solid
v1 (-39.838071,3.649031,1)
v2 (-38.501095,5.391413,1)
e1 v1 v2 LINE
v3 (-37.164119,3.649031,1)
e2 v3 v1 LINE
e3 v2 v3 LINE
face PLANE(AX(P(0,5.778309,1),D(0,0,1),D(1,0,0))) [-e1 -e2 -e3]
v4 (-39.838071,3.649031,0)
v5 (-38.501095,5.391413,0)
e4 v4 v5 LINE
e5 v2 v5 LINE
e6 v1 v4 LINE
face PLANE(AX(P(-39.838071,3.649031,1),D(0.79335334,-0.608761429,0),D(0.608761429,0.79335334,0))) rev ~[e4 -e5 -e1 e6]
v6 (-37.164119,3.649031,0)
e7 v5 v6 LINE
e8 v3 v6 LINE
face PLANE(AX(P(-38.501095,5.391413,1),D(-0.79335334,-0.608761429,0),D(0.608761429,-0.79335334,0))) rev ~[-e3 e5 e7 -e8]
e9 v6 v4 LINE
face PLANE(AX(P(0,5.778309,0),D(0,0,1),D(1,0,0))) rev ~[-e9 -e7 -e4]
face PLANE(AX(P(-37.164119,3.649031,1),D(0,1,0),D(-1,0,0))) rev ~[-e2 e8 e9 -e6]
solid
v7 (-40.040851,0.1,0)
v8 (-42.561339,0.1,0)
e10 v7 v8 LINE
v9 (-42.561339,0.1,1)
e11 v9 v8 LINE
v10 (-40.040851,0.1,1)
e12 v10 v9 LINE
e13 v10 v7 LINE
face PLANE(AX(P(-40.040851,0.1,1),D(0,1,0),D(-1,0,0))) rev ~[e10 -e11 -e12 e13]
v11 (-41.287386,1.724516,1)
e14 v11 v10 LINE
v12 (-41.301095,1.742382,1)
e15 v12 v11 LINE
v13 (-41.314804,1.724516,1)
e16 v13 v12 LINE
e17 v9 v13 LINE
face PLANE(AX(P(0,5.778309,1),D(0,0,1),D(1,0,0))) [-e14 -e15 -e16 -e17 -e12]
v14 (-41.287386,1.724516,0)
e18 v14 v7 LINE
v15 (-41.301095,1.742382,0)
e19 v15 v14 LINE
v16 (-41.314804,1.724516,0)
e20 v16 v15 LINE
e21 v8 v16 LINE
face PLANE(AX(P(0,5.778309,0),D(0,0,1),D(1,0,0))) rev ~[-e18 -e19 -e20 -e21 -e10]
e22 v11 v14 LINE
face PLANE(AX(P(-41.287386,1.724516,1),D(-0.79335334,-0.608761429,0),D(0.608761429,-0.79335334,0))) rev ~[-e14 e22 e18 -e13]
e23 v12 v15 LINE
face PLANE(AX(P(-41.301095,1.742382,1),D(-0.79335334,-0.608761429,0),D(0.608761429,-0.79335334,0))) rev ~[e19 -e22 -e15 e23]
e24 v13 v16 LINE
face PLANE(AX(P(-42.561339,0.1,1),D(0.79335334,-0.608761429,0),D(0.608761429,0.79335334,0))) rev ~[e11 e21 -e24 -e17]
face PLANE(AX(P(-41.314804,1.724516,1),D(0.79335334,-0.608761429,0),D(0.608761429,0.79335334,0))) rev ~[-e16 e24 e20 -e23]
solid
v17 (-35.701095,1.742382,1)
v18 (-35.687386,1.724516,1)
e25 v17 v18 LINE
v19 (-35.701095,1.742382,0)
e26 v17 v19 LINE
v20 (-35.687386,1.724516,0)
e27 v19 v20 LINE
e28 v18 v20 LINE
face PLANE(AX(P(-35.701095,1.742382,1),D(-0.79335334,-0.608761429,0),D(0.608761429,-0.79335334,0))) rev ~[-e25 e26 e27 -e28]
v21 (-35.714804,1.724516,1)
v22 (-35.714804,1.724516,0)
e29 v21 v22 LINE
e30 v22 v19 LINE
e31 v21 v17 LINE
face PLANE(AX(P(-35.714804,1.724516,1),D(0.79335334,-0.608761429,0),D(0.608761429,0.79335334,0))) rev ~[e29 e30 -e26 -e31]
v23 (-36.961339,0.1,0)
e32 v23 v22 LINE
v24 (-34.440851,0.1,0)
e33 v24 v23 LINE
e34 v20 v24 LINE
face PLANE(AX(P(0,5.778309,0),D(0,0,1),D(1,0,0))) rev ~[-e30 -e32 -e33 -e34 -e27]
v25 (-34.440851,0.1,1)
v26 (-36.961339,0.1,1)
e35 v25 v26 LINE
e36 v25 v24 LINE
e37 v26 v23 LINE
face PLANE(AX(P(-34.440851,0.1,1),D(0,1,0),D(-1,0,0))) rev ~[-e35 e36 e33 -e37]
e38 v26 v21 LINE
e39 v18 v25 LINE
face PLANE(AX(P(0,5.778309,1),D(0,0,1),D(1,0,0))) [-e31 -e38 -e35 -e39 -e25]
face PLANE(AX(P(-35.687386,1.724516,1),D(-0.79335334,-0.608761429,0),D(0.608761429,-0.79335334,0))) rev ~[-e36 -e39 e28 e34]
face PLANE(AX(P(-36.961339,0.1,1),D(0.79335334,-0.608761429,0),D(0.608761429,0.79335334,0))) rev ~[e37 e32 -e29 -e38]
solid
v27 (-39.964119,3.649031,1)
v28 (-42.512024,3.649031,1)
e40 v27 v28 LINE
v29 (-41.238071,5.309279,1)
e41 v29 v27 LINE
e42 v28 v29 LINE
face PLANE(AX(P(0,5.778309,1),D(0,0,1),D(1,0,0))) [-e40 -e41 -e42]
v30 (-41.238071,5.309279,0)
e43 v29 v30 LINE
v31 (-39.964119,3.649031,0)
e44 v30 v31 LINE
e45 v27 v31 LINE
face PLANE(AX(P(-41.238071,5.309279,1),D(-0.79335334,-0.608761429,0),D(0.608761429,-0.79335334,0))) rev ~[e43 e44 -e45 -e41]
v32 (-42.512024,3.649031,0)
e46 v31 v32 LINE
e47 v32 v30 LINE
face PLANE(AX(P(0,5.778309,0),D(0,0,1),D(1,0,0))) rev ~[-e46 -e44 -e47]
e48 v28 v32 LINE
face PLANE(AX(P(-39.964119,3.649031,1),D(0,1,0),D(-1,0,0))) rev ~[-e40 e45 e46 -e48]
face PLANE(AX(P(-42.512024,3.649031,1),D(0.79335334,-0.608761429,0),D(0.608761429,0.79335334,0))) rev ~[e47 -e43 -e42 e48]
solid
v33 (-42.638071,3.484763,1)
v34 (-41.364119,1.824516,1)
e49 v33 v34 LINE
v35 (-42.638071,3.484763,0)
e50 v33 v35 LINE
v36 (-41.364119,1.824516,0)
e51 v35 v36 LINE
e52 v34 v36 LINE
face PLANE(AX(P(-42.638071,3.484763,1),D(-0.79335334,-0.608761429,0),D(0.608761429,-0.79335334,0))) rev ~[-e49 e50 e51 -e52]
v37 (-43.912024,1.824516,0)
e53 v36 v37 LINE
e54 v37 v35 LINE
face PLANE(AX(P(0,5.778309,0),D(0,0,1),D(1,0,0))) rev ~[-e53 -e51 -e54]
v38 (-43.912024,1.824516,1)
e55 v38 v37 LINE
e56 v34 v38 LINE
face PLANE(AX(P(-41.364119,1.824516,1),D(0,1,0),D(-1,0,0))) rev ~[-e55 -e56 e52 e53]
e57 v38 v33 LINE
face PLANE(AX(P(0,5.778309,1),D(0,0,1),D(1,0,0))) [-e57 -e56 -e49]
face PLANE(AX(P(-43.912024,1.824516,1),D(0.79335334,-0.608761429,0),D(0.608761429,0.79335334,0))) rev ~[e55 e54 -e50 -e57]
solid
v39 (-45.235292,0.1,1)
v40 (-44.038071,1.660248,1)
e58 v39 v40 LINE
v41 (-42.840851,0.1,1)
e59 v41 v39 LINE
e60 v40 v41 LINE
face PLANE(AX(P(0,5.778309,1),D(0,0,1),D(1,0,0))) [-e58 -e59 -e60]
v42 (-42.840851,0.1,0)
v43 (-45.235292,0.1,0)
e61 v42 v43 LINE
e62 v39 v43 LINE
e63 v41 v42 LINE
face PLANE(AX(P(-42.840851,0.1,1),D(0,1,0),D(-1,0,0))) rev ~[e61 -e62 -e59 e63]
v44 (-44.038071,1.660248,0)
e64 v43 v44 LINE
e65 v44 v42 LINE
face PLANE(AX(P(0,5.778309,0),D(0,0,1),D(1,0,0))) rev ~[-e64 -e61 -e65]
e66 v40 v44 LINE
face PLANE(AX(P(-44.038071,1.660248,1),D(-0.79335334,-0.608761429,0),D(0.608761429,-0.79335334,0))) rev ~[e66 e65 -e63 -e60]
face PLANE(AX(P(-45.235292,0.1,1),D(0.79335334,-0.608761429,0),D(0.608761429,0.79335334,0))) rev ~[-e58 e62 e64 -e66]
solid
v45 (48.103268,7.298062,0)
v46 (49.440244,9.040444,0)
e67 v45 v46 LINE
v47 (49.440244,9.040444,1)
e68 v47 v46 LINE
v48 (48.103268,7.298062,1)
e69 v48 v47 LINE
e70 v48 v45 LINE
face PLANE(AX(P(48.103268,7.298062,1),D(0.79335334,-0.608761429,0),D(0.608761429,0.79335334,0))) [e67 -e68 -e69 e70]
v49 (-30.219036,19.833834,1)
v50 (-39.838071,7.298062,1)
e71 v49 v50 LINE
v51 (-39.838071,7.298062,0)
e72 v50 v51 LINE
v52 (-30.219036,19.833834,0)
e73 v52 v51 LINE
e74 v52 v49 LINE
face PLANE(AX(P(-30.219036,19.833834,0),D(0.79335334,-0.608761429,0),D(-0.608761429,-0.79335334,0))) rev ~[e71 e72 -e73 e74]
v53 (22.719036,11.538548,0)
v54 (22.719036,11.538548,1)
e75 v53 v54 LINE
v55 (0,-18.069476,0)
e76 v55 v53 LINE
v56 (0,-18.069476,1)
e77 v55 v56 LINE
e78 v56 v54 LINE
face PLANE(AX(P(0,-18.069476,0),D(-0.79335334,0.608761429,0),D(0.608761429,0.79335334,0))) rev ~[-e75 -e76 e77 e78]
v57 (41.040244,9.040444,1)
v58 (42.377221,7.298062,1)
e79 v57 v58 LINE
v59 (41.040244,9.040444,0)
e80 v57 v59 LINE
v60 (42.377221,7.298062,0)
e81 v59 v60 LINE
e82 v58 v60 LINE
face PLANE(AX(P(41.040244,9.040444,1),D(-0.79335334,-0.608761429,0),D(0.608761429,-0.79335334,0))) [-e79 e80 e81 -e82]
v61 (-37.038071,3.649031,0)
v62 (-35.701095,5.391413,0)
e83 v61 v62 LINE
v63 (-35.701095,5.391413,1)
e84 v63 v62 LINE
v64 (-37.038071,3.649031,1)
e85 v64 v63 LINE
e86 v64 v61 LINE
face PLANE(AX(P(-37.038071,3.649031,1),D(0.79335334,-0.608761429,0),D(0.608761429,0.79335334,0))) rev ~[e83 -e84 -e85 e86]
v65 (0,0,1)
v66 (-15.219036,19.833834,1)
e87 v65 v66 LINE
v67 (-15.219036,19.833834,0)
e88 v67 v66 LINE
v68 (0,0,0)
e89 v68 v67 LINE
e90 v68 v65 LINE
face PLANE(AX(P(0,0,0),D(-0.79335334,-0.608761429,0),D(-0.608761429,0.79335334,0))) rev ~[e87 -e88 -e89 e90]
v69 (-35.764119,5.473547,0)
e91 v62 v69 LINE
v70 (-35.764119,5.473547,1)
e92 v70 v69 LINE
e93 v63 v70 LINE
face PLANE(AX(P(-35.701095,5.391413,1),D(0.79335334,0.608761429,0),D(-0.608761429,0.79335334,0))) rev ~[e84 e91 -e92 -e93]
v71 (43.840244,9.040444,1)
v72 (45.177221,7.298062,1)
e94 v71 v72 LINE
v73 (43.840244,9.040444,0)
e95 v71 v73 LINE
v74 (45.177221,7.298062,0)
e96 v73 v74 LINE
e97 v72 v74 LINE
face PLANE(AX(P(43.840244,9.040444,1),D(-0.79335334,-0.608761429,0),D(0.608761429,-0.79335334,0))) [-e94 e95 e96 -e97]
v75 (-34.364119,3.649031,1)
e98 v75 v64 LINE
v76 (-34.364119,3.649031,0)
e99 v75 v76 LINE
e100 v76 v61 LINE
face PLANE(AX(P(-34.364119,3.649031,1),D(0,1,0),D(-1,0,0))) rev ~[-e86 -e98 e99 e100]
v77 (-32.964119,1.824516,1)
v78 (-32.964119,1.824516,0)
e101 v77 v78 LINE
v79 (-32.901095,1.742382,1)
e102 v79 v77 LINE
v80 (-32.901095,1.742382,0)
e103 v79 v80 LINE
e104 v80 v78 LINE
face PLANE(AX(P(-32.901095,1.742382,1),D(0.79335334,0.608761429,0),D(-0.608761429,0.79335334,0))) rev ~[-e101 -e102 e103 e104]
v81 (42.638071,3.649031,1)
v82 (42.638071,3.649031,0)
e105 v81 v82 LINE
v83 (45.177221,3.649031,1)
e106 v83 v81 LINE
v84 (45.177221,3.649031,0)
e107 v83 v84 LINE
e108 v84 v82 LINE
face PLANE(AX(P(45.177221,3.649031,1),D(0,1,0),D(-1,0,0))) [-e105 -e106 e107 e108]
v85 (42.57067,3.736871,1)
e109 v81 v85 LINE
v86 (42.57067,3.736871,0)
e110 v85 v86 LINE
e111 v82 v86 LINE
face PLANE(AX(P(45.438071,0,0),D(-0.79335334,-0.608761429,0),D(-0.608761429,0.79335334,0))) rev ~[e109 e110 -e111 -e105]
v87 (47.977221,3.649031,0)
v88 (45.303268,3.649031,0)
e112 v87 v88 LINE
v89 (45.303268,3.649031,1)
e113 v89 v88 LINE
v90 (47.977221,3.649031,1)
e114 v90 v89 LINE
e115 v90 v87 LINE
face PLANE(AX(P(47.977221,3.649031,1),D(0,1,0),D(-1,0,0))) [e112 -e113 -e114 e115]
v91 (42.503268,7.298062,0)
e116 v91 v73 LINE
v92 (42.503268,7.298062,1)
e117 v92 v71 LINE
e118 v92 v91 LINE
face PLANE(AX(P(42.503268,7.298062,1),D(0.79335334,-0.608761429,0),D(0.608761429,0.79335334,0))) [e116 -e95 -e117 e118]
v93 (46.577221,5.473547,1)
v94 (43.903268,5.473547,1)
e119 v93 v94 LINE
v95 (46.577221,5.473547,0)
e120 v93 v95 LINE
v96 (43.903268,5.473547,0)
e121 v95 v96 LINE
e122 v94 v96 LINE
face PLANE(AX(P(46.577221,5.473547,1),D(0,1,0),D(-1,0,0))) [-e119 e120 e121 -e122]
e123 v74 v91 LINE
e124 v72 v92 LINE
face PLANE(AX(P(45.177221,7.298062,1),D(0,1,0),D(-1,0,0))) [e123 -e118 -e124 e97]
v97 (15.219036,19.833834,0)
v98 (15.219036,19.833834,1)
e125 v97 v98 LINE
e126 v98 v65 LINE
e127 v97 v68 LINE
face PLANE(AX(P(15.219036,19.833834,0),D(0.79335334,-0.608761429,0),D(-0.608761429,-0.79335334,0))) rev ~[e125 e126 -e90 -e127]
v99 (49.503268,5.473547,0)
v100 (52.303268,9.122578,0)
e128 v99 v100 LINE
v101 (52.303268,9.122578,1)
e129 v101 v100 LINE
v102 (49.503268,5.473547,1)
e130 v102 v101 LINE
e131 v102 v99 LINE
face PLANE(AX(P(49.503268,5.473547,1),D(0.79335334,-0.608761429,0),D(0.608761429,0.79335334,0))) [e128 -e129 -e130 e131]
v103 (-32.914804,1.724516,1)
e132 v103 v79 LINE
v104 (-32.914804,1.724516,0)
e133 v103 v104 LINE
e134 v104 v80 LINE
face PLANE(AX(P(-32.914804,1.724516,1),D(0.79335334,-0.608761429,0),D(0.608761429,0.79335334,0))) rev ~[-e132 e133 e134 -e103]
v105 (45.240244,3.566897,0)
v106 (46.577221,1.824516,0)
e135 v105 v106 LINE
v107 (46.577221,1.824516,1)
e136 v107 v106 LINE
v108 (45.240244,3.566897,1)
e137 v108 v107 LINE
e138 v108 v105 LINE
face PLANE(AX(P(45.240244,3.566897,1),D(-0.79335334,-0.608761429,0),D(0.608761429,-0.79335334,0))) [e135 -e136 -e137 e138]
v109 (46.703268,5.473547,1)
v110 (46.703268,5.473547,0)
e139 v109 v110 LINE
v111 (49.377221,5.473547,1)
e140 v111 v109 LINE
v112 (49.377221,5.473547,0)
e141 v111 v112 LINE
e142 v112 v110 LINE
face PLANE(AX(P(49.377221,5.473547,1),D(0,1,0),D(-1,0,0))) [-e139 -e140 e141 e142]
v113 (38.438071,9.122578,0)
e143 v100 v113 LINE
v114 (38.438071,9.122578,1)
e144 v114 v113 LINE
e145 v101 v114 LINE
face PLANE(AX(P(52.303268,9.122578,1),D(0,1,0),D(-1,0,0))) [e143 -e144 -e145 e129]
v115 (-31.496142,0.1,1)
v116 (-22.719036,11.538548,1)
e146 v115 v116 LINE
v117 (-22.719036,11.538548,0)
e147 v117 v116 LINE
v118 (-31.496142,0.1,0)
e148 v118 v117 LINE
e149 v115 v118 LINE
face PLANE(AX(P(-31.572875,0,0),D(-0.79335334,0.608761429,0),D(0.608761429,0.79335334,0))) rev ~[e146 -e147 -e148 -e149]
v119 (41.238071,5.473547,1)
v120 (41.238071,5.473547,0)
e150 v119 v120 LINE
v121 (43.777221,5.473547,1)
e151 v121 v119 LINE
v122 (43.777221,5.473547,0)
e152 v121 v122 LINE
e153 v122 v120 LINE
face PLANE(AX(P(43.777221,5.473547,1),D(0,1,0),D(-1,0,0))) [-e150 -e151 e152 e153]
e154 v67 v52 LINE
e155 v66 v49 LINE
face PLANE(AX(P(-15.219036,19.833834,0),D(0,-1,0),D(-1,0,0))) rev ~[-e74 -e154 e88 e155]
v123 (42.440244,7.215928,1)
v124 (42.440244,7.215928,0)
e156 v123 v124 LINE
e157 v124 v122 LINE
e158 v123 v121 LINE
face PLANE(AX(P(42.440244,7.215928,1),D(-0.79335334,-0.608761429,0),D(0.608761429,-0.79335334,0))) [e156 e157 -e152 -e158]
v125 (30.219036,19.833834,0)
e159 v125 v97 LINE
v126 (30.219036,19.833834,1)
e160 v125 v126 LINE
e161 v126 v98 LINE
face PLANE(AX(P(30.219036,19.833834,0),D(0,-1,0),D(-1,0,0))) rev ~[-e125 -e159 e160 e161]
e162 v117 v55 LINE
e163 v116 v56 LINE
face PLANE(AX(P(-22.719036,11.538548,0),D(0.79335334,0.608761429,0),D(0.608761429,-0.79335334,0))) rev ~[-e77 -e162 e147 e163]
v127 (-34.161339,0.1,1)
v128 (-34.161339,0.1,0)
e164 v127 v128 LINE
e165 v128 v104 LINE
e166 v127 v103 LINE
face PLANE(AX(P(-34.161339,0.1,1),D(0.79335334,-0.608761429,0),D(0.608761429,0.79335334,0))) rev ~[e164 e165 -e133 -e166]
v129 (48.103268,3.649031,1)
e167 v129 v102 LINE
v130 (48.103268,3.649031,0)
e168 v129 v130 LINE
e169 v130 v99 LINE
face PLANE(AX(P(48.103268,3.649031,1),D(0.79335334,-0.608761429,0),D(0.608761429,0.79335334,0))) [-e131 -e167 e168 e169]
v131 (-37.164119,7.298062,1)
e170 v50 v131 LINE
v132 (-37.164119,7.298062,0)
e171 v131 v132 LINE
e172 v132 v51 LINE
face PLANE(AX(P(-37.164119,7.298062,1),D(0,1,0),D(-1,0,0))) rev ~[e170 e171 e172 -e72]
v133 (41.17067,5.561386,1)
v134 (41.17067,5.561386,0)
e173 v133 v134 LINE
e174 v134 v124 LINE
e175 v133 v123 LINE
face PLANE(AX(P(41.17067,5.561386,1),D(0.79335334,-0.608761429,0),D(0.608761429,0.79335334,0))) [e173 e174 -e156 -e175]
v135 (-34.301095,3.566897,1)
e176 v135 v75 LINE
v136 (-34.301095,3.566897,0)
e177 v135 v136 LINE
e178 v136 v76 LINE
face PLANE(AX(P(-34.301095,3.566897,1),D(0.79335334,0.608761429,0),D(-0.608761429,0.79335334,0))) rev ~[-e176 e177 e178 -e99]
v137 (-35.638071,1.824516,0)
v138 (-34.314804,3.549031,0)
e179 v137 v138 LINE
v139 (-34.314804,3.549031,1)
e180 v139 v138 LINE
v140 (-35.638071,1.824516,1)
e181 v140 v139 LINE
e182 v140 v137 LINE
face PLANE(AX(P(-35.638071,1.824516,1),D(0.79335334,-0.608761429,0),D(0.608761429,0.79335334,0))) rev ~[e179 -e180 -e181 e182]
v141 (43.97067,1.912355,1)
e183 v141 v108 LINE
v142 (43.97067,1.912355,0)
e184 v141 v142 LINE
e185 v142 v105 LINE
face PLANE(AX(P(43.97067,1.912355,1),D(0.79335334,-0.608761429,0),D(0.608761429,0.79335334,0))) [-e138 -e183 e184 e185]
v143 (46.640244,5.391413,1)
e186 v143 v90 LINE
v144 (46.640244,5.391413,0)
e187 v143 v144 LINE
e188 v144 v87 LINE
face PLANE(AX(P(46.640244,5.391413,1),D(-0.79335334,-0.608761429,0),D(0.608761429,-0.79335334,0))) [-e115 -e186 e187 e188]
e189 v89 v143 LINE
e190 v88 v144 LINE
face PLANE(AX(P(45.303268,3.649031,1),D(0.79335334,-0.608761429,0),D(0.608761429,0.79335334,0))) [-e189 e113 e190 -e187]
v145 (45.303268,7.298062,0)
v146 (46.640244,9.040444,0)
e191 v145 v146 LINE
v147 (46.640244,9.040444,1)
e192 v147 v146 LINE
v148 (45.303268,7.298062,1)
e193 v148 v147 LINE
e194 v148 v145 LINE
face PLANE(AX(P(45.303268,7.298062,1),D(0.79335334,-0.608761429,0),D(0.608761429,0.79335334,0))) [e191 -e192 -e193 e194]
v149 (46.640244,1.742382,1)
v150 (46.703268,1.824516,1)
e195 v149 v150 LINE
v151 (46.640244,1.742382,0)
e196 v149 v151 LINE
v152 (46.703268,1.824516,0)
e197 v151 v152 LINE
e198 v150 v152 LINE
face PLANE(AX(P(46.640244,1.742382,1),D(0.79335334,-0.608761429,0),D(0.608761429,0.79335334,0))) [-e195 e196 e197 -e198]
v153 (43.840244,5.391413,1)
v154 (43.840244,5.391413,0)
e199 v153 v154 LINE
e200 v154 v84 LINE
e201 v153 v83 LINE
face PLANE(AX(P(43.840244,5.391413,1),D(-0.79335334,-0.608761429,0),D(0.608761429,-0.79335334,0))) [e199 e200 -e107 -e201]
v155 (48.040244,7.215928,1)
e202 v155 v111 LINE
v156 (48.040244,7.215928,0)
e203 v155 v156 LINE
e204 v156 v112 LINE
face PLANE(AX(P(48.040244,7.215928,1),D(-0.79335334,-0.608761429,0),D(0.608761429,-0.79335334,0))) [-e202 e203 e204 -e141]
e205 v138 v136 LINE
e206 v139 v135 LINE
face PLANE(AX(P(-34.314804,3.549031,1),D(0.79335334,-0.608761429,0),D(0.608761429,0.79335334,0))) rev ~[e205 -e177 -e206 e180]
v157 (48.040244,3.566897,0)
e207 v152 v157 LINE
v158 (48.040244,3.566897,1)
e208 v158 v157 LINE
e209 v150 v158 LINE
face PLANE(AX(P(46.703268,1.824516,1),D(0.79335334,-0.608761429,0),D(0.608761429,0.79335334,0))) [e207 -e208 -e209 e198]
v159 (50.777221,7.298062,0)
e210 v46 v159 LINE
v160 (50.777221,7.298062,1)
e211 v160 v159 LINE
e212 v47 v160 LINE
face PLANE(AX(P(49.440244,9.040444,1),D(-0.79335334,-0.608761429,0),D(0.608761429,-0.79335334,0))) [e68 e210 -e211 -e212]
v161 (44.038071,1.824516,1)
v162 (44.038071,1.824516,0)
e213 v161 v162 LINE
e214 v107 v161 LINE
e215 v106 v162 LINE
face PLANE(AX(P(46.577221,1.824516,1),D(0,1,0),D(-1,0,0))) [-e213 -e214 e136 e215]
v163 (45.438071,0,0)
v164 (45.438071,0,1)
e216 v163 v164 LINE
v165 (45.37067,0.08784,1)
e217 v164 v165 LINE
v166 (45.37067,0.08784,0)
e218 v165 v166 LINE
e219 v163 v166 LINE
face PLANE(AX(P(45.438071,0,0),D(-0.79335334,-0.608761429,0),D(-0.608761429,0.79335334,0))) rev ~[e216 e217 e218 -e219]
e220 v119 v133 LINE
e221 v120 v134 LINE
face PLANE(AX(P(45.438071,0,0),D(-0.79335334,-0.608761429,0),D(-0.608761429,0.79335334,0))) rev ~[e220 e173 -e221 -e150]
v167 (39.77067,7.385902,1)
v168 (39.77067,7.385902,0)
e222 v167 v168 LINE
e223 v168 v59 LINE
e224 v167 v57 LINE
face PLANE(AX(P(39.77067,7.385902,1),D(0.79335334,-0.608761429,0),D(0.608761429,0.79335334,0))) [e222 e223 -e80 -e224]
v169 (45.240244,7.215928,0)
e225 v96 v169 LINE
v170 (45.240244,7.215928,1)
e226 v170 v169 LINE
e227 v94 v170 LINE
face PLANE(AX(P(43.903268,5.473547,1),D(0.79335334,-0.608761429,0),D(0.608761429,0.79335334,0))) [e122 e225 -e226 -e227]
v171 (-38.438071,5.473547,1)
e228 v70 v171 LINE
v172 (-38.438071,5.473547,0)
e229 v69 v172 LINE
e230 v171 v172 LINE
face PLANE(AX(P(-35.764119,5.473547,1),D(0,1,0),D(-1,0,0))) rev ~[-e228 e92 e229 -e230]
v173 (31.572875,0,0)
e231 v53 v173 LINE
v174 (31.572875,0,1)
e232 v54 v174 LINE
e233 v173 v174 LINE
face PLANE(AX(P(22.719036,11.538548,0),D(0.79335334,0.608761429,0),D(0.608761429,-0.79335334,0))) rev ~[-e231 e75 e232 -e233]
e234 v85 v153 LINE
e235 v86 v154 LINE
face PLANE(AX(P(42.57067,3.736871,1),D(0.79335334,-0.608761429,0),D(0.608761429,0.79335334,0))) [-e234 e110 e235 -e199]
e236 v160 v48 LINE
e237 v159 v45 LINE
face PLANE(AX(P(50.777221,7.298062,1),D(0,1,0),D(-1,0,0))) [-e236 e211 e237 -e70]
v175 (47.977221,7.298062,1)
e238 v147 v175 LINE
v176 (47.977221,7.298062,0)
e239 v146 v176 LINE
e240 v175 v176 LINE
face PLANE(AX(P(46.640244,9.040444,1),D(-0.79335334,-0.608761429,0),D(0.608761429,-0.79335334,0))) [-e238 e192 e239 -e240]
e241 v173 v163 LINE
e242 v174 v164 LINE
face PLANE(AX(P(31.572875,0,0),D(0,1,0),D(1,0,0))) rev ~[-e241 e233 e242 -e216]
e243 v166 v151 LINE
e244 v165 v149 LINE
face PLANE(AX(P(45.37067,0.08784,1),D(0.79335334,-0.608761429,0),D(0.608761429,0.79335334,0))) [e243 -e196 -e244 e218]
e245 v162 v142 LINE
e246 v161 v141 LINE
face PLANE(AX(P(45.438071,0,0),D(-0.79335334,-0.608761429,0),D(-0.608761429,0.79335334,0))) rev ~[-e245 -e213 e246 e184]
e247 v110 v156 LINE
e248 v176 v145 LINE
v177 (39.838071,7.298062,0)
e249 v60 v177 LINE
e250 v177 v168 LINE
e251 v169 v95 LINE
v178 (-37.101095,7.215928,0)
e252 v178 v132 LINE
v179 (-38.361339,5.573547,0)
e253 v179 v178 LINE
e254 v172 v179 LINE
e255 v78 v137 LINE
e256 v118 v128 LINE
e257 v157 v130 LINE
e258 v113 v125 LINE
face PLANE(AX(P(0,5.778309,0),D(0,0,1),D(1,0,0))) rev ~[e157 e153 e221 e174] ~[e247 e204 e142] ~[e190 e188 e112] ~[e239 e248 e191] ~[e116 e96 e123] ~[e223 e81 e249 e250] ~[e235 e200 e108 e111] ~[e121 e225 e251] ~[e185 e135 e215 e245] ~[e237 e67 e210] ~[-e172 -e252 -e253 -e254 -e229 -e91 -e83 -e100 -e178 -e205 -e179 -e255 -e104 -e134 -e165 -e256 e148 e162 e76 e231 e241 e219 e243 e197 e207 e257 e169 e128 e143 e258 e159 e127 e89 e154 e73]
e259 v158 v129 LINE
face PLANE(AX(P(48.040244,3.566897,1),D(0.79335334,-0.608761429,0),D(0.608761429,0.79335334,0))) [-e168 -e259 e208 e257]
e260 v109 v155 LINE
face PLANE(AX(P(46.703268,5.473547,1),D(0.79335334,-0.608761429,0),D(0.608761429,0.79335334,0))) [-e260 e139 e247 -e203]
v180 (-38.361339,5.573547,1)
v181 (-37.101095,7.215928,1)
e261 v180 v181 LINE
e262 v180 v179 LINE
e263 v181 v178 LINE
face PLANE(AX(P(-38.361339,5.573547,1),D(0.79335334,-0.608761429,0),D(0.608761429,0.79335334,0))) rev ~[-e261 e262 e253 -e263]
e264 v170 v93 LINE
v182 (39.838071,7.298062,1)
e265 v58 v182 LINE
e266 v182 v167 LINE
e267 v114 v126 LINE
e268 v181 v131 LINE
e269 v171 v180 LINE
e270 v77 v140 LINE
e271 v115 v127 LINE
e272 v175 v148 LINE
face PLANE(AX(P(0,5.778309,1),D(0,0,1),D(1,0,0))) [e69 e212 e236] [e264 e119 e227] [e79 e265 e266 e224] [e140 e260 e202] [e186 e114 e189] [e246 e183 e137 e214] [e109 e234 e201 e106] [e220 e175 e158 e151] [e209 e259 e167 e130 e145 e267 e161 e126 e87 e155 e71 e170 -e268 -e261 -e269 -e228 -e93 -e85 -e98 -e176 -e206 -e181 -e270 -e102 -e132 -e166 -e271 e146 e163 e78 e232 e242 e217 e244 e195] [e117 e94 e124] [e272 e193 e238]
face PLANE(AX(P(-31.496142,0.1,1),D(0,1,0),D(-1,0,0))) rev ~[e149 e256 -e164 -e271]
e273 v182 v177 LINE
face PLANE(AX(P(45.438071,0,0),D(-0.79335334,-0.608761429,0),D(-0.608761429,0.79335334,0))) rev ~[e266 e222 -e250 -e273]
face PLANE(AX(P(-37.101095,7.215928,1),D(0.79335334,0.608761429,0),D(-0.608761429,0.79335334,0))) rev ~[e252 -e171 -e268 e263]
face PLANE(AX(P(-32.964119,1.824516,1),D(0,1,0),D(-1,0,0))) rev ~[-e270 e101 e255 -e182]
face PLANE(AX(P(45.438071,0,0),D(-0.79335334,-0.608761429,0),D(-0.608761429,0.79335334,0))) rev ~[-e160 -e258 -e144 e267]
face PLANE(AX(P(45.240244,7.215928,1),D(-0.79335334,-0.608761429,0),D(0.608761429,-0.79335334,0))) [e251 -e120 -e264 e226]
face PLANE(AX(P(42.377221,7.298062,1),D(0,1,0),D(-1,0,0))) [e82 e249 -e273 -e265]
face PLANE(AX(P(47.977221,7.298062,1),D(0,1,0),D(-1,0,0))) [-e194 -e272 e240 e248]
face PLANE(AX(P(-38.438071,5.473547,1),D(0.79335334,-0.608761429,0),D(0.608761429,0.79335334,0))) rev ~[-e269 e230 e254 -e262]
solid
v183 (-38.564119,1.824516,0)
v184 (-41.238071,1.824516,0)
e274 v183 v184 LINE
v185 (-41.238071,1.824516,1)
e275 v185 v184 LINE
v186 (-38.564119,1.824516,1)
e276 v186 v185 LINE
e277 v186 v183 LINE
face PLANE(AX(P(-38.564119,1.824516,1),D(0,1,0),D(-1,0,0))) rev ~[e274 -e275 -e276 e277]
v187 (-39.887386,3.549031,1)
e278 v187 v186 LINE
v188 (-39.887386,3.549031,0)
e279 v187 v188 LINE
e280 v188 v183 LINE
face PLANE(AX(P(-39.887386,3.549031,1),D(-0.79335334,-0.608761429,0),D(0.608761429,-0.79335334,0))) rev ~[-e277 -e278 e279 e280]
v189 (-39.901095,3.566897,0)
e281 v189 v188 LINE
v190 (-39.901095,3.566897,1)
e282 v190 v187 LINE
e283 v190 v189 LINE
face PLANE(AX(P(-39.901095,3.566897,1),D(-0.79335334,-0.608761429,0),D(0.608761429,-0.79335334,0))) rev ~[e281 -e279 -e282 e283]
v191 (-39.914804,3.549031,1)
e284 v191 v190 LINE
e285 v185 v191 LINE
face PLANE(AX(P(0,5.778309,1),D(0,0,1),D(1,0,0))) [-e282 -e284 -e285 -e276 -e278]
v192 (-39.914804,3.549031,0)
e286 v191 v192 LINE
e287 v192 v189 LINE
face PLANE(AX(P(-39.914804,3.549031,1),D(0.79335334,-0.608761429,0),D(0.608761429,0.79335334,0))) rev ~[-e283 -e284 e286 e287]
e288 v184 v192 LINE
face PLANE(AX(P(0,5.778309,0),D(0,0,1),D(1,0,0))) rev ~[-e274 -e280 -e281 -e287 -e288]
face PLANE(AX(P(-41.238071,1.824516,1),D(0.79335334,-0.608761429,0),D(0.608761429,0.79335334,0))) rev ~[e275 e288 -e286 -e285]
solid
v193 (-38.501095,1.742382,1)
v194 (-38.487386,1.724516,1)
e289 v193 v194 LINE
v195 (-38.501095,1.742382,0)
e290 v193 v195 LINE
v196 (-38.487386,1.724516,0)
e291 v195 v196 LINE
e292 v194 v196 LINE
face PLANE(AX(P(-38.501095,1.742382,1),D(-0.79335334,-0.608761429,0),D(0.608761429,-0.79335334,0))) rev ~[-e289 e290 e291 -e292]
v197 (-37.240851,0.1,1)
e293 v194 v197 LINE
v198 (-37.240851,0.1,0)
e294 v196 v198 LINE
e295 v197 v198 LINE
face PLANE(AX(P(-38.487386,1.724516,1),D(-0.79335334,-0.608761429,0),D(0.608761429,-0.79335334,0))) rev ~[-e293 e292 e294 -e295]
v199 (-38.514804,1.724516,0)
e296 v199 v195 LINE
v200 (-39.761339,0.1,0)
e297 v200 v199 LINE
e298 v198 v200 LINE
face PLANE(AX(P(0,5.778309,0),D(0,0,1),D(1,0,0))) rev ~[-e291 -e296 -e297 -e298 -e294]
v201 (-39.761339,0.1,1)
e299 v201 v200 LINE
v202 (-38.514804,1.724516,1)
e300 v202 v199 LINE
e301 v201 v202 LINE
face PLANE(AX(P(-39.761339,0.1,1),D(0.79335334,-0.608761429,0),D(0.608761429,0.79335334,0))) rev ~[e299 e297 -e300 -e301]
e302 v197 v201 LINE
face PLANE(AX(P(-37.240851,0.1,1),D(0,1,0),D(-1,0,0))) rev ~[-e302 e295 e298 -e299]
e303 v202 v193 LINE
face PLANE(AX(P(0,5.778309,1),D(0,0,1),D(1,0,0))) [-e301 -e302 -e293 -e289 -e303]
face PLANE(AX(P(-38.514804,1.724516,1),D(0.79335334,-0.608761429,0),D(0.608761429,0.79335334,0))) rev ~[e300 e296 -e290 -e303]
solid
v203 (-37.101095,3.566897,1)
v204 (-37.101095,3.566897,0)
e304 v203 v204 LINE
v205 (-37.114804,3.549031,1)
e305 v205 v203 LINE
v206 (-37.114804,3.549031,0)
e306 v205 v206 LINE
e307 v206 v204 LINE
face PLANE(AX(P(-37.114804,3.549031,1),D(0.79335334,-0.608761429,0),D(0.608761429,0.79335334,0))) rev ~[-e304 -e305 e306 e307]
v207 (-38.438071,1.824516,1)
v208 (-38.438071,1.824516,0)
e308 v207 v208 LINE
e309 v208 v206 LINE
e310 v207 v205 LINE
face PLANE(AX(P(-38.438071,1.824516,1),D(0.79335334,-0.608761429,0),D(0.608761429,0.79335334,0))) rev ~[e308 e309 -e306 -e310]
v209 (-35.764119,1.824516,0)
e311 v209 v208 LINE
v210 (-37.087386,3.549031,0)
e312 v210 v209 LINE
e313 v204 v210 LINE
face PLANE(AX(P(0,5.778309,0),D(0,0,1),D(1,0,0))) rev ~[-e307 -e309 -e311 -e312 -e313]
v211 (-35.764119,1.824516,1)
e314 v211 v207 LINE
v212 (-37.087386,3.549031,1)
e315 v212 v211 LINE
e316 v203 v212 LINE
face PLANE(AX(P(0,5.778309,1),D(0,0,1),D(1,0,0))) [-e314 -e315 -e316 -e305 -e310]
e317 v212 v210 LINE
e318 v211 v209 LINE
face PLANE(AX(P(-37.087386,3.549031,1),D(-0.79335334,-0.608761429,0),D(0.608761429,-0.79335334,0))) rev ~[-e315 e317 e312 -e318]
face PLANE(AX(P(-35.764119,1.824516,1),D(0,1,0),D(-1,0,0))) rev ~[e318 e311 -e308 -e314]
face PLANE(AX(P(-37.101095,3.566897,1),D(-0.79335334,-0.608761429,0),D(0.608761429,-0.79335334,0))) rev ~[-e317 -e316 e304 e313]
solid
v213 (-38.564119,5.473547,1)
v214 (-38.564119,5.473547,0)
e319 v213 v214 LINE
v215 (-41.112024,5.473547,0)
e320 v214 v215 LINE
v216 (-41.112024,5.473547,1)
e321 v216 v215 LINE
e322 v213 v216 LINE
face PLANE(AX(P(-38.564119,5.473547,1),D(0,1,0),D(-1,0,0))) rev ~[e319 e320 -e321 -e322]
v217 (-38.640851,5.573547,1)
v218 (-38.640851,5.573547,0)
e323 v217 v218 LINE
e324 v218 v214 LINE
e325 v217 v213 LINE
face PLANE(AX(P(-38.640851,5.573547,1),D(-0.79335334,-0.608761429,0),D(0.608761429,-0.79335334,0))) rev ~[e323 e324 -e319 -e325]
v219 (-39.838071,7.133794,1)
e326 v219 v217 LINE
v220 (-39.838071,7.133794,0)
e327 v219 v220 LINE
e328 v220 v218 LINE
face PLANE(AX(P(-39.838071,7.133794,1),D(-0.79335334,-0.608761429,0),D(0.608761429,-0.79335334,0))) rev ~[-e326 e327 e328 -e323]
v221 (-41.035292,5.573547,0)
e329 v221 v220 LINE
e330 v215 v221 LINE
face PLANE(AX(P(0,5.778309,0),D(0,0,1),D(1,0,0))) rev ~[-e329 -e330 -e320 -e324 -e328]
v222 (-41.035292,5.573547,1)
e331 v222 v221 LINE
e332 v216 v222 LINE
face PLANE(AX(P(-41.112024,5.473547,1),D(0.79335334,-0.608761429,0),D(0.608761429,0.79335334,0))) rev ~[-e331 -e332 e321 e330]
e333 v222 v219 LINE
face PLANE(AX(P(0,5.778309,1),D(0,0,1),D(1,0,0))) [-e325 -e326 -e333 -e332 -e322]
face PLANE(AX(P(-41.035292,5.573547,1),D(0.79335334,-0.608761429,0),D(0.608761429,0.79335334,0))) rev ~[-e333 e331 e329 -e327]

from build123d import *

# Parameters (mm, degrees)
F1_DEPTH = 1
F3_DEPTH = 25
F4_DEPTH = 1
F5_DEPTH = 25


with BuildPart() as f1:
    # F0 (on Top) → F1 (new body)
    with BuildSketch(Plane.XY):
        Polygon((15.2190357252, 19.8338335073), (0, 0), (-15.2190357252, 19.8338335073), (-30.2190357252, 19.8338335073), (-45.4380714504, 0), (-31.5728748963, 0), (-22.7190357252, 11.5385478548), (0, -18.0694759488), (22.7190357252, 11.5385478548), (31.5728748963, 0), (45.4380714504, 0), (30.2190357252, 19.8338335073), align=None)
    extrude(amount=F1_DEPTH)

    # F2 (on face) → F3 (cut)
    with BuildSketch(Plane.XY.offset(1)):
        Polygon((-38.5148041492, 1.724515522), (-41.1613387516, 1.724515522), (-39.9148041492, 0.1), (-39.7613387516, 0.1), align=None)
        Polygon((-41.112024209, 5.4735465659), (-41.1750478297, 5.3914125843), (-39.8380714504, 3.649031044), (-38.5010950711, 5.3914125843), (-38.5641186918, 5.4735465659), align=None)
        Polygon((-39.712024209, 7.2980620879), (-39.7750478297, 7.2159281063), (-38.5148041492, 5.5735465659), (-38.4380714504, 5.5735465659), (-38.3613387516, 5.5735465659), (-37.1010950711, 7.2159281063), (-37.1641186918, 7.2980620879), align=None)
        Polygon((-35.7641186918, 5.4735465659), (-38.4380714504, 5.4735465659), (-37.0380714504, 3.649031044), (-35.7010950711, 5.3914125843), align=None)
        Polygon((-41.3148041492, 1.724515522), (-43.9613387516, 1.724515522), (-42.7148041492, 0.1), (-42.5613387516, 0.1), align=None)
        Polygon((-39.9148041492, 3.549031044), (-42.5613387516, 3.549031044), (-41.2380714504, 1.824515522), align=None)
        Polygon((-37.1148041492, 3.549031044), (-39.7613387516, 3.549031044), (-38.4380714504, 1.824515522), align=None)
        Polygon((-35.7148041492, 1.724515522), (-38.3613387516, 1.724515522), (-37.1148041492, 0.1), (-36.9613387516, 0.1), align=None)
        Polygon((-34.3148041492, 3.549031044), (-36.9613387516, 3.549031044), (-35.6380714504, 1.824515522), align=None)
        Polygon((-34.1613387516, 0.1), (-32.9148041492, 1.724515522), (-35.5613387516, 1.724515522), (-34.3148041492, 0.1), align=None)
    extrude(amount=-F3_DEPTH, mode=Mode.SUBTRACT)

    # F2 (on face) → F4 (join)
    with BuildSketch(Plane.XY.offset(1)):
        Polygon((46.5772207631, 1.824515522), (44.0380714504, 1.824515522), (45.3706697275, 0.0878396355), (46.6402443838, 1.7423815404), align=None)
        Polygon((45.1772207631, 3.649031044), (42.6380714504, 3.649031044), (43.9706697275, 1.9123551575), (45.2402443838, 3.5668970624), align=None)
        Polygon((43.7772207631, 5.4735465659), (41.2380714504, 5.4735465659), (42.5706697275, 3.7368706795), (43.8402443838, 5.3914125843), align=None)
        Polygon((42.3772207631, 7.2980620879), (39.8380714504, 7.2980620879), (41.1706697275, 5.5613862014), (42.4402443838, 7.2159281063), align=None)
        Polygon((41.1032680045, 9.1225776099), (38.4380714504, 9.1225776099), (39.7706697275, 7.3859017234), (41.0402443838, 9.0404436283), align=None)
        Polygon((43.9032680045, 9.1225776099), (41.1032680045, 9.1225776099), (42.5032680045, 7.2980620879), (43.8402443838, 9.0404436283), align=None)
        Polygon((45.1772207631, 7.2980620879), (42.5032680045, 7.2980620879), (43.9032680045, 5.4735465659), (45.2402443838, 7.2159281063), align=None)
        Polygon((46.7032680045, 9.1225776099), (43.9032680045, 9.1225776099), (45.3032680045, 7.2980620879), (46.6402443838, 9.0404436283), align=None)
        Polygon((49.5032680045, 9.1225776099), (46.7032680045, 9.1225776099), (48.1032680045, 7.2980620879), (49.4402443838, 9.0404436283), align=None)
        Polygon((52.3032680045, 9.1225776099), (49.5032680045, 9.1225776099), (50.9032680045, 7.2980620879), align=None)
        Polygon((50.7772207631, 7.2980620879), (48.1032680045, 7.2980620879), (49.5032680045, 5.4735465659), (50.9032680045, 7.2980620879), align=None)
        Polygon((49.3772207631, 5.4735465659), (46.7032680045, 5.4735465659), (48.1032680045, 3.649031044), (49.5032680045, 5.4735465659), align=None)
        Polygon((47.9772207631, 7.2980620879), (45.3032680045, 7.2980620879), (46.7032680045, 5.4735465659), (48.0402443838, 7.2159281063), align=None)
        Polygon((46.5772207631, 5.4735465659), (43.9032680045, 5.4735465659), (45.3032680045, 3.649031044), (46.6402443838, 5.3914125843), align=None)
        Polygon((47.9772207631, 3.649031044), (45.3032680045, 3.649031044), (46.7032680045, 1.824515522), (48.0402443838, 3.5668970624), align=None)
        Polygon((46.7032680045, 1.824515522), (45.3032680045, 3.649031044), (45.2402443838, 3.5668970624), (46.5772207631, 1.824515522), align=None)
        Polygon((45.2402443838, 3.5668970624), (45.3032680045, 3.649031044), (45.1772207631, 3.649031044), align=None)
        Polygon((45.3032680045, 3.649031044), (43.9032680045, 5.4735465659), (43.8402443838, 5.3914125843), (45.1772207631, 3.649031044), align=None)
        Polygon((46.6402443838, 1.7423815404), (46.7032680045, 1.824515522), (46.5772207631, 1.824515522), align=None)
        Polygon((43.9032680045, 5.4735465659), (42.5032680045, 7.2980620879), (42.4402443838, 7.2159281063), (43.7772207631, 5.4735465659), align=None)
        Polygon((43.8402443838, 5.3914125843), (43.9032680045, 5.4735465659), (43.7772207631, 5.4735465659), align=None)
        Polygon((48.1032680045, 3.649031044), (46.7032680045, 5.4735465659), (46.6402443838, 5.3914125843), (47.9772207631, 3.649031044), align=None)
        Polygon((46.7032680045, 5.4735465659), (46.5772207631, 5.4735465659), (46.6402443838, 5.3914125843), align=None)
        Polygon((46.7032680045, 5.4735465659), (45.3032680045, 7.2980620879), (45.2402443838, 7.2159281063), (46.5772207631, 5.4735465659), align=None)
        Polygon((48.1032680045, 3.649031044), (47.9772207631, 3.649031044), (48.0402443838, 3.5668970624), align=None)
        Polygon((49.5032680045, 5.4735465659), (48.1032680045, 7.2980620879), (48.0402443838, 7.2159281063), (49.3772207631, 5.4735465659), align=None)
        Polygon((42.5032680045, 7.2980620879), (41.1032680045, 9.1225776099), (41.0402443838, 9.0404436283), (42.3772207631, 7.2980620879), align=None)
        Polygon((42.4402443838, 7.2159281063), (42.5032680045, 7.2980620879), (42.3772207631, 7.2980620879), align=None)
        Polygon((45.3032680045, 7.2980620879), (43.9032680045, 9.1225776099), (43.8402443838, 9.0404436283), (45.1772207631, 7.2980620879), align=None)
        Polygon((45.3032680045, 7.2980620879), (45.1772207631, 7.2980620879), (45.2402443838, 7.2159281063), align=None)
        Polygon((48.1032680045, 7.2980620879), (46.7032680045, 9.1225776099), (46.6402443838, 9.0404436283), (47.9772207631, 7.2980620879), align=None)
        Polygon((48.1032680045, 7.2980620879), (47.9772207631, 7.2980620879), (48.0402443838, 7.2159281063), align=None)
        Polygon((50.9032680045, 7.2980620879), (49.5032680045, 9.1225776099), (49.4402443838, 9.0404436283), (50.7772207631, 7.2980620879), align=None)
    extrude(amount=-F4_DEPTH)

    # F2 (on face) → F5 (cut)
    with BuildSketch(Plane.XY.offset(1)):
        Polygon((-44.0380714504, 1.6602475588), (-44.1010950711, 1.7423815404), (-45.4380714504, 0), (-42.7641186918, 0), (-42.8408513906, 0.1), (-45.2352915102, 0.1), align=None)
        Polygon((-43.9750478297, 1.7423815404), (-44.0380714504, 1.824515522), (-44.1010950711, 1.7423815404), (-44.0380714504, 1.6602475588), (-43.9887569078, 1.724515522), align=None)
        Polygon((-43.912024209, 1.824515522), (-44.0380714504, 1.824515522), (-43.9750478297, 1.7423815404), align=None)
        Polygon((-42.6380714504, 3.4847630808), (-42.7010950711, 3.5668970624), (-44.0380714504, 1.824515522), (-43.912024209, 1.824515522), align=None)
        Polygon((-42.8408513906, 0.1), (-42.7641186918, 0), (-42.6380714504, 0), (-42.7148041492, 0.1), align=None)
        Polygon((-42.5613387516, 0.1), (-42.7148041492, 0.1), (-42.6380714504, 0), align=None)
        Polygon((-42.5613387516, 0.1), (-42.6380714504, 0), (-39.9641186918, 0), (-40.0408513906, 0.1), align=None)
        Polygon((-39.8380714504, 0), (-39.9148041492, 0.1), (-40.0408513906, 0.1), (-39.9641186918, 0), align=None)
        Polygon((-39.7613387516, 0.1), (-39.9148041492, 0.1), (-39.8380714504, 0), align=None)
        Polygon((-37.1641186918, 0), (-37.2408513906, 0.1), (-39.7613387516, 0.1), (-39.8380714504, 0), align=None)
        Polygon((-42.5750478297, 3.5668970624), (-42.6380714504, 3.649031044), (-42.7010950711, 3.5668970624), (-42.6380714504, 3.4847630808), (-42.5887569078, 3.549031044), align=None)
        Polygon((-42.512024209, 3.649031044), (-42.6380714504, 3.649031044), (-42.5750478297, 3.5668970624), align=None)
        Polygon((-41.2380714504, 5.3092786028), (-41.3010950711, 5.3914125843), (-42.6380714504, 3.649031044), (-42.512024209, 3.649031044), align=None)
        Polygon((-41.1750478297, 5.3914125843), (-41.2380714504, 5.4735465659), (-41.3010950711, 5.3914125843), (-41.2380714504, 5.3092786028), align=None)
        Polygon((-41.112024209, 5.4735465659), (-41.2380714504, 5.4735465659), (-41.1750478297, 5.3914125843), align=None)
        Polygon((-41.0352915102, 5.5735465659), (-41.1613387516, 5.5735465659), (-41.2380714504, 5.4735465659), (-41.112024209, 5.4735465659), align=None)
        Polygon((-39.8380714504, 7.1337941247), (-39.9010950711, 7.2159281063), (-41.1613387516, 5.5735465659), (-41.0352915102, 5.5735465659), align=None)
        Polygon((-39.7750478297, 7.2159281063), (-39.8380714504, 7.2980620879), (-39.9010950711, 7.2159281063), (-39.8380714504, 7.1337941247), align=None)
        Polygon((-39.712024209, 7.2980620879), (-39.8380714504, 7.2980620879), (-39.7750478297, 7.2159281063), align=None)
        Polygon((-37.0380714504, 0), (-37.1148041492, 0.1), (-37.2408513906, 0.1), (-37.1641186918, 0), align=None)
        Polygon((-36.9613387516, 0.1), (-37.1148041492, 0.1), (-37.0380714504, 0), align=None)
        Polygon((-34.3641186918, 0), (-34.4408513906, 0.1), (-36.9613387516, 0.1), (-37.0380714504, 0), align=None)
        Polygon((-34.2380714504, 0), (-34.3148041492, 0.1), (-34.4408513906, 0.1), (-34.3641186918, 0), align=None)
        Polygon((-34.2380714504, 0), (-34.1613387516, 0.1), (-34.3148041492, 0.1), align=None)
        Polygon((-31.5684967941, 0.0057056539), (-31.6408513906, 0.1), (-34.1613387516, 0.1), (-34.2380714504, 0), (-31.5728748963, 0), align=None)
        Polygon((-43.912024209, 1.824515522), (-43.9750478297, 1.7423815404), (-43.9613387516, 1.724515522), (-41.3148041492, 1.724515522), (-41.3010950711, 1.7423815404), (-41.3641186918, 1.824515522), align=None)
        Polygon((-41.2380714504, 1.824515522), (-41.3641186918, 1.824515522), (-41.3010950711, 1.7423815404), align=None)
        Polygon((-41.1613387516, 1.724515522), (-41.2380714504, 1.824515522), (-41.3010950711, 1.7423815404), (-41.287385993, 1.724515522), (-41.2380714504, 1.724515522), align=None)
        Polygon((-38.5641186918, 1.824515522), (-41.2380714504, 1.824515522), (-41.1613387516, 1.724515522), (-38.5148041492, 1.724515522), (-38.5010950711, 1.7423815404), align=None)
        Polygon((-38.5010950711, 1.7423815404), (-38.4380714504, 1.824515522), (-38.5641186918, 1.824515522), align=None)
        Polygon((-38.3613387516, 1.724515522), (-38.4380714504, 1.824515522), (-38.5010950711, 1.7423815404), (-38.487385993, 1.724515522), (-38.4380714504, 1.724515522), align=None)
        Polygon((-35.7641186918, 1.824515522), (-38.4380714504, 1.824515522), (-38.3613387516, 1.724515522), (-35.7148041492, 1.724515522), (-35.7010950711, 1.7423815404), align=None)
        Polygon((-35.7010950711, 1.7423815404), (-35.6380714504, 1.824515522), (-35.7641186918, 1.824515522), align=None)
        Polygon((-35.5613387516, 1.724515522), (-35.6380714504, 1.824515522), (-35.7010950711, 1.7423815404), (-35.687385993, 1.724515522), align=None)
        Polygon((-32.9010950711, 1.7423815404), (-32.9641186918, 1.824515522), (-35.6380714504, 1.824515522), (-35.5613387516, 1.724515522), (-32.9148041492, 1.724515522), align=None)
        Polygon((-42.512024209, 3.649031044), (-42.5750478297, 3.5668970624), (-42.5613387516, 3.549031044), (-39.9148041492, 3.549031044), (-39.9010950711, 3.5668970624), (-39.9641186918, 3.649031044), align=None)
        Polygon((-39.9010950711, 3.5668970624), (-39.8380714504, 3.649031044), (-39.9641186918, 3.649031044), align=None)
        Polygon((-39.7613387516, 3.549031044), (-39.8380714504, 3.649031044), (-39.9010950711, 3.5668970624), (-39.887385993, 3.549031044), (-39.8380714504, 3.549031044), align=None)
        Polygon((-37.1641186918, 3.649031044), (-39.8380714504, 3.649031044), (-39.7613387516, 3.549031044), (-37.1148041492, 3.549031044), (-37.1010950711, 3.5668970624), align=None)
        Polygon((-37.1010950711, 3.5668970624), (-37.0380714504, 3.649031044), (-37.1641186918, 3.649031044), align=None)
        Polygon((-36.9613387516, 3.549031044), (-37.0380714504, 3.649031044), (-37.1010950711, 3.5668970624), (-37.087385993, 3.549031044), align=None)
        Polygon((-34.3641186918, 3.649031044), (-37.0380714504, 3.649031044), (-36.9613387516, 3.549031044), (-34.3148041492, 3.549031044), (-34.3010950711, 3.5668970624), align=None)
        Polygon((-38.4380714504, 5.4735465659), (-38.5148041492, 5.5735465659), (-38.6408513906, 5.5735465659), (-38.5641186918, 5.4735465659), align=None)
        Polygon((-38.4380714504, 5.5735465659), (-38.5148041492, 5.5735465659), (-38.4380714504, 5.4735465659), (-38.3613387516, 5.5735465659), align=None)
        Polygon((-38.5010950711, 5.3914125843), (-38.4380714504, 5.4735465659), (-38.5641186918, 5.4735465659), align=None)
        Polygon((-37.0380714504, 3.649031044), (-38.4380714504, 5.4735465659), (-38.5010950711, 5.3914125843), (-37.1641186918, 3.649031044), align=None)
        Polygon((-38.4380714504, 1.824515522), (-39.7613387516, 3.549031044), (-39.8380714504, 3.549031044), (-39.887385993, 3.549031044), (-38.5641186918, 1.824515522), align=None)
        Polygon((-39.8380714504, 3.649031044), (-41.1750478297, 5.3914125843), (-41.2380714504, 5.3092786028), (-39.9641186918, 3.649031044), align=None)
        Polygon((-37.1148041492, 0.1), (-38.3613387516, 1.724515522), (-38.4380714504, 1.724515522), (-38.487385993, 1.724515522), (-37.2408513906, 0.1), align=None)
        Polygon((-34.3148041492, 0.1), (-35.5613387516, 1.724515522), (-35.687385993, 1.724515522), (-34.4408513906, 0.1), align=None)
        Polygon((-35.6380714504, 1.824515522), (-36.9613387516, 3.549031044), (-37.087385993, 3.549031044), (-35.7641186918, 1.824515522), align=None)
        Polygon((-38.5148041492, 5.5735465659), (-39.7750478297, 7.2159281063), (-39.8380714504, 7.1337941247), (-38.6408513906, 5.5735465659), align=None)
        Polygon((-42.5613387516, 3.549031044), (-42.5750478297, 3.5668970624), (-42.5887569078, 3.549031044), align=None)
        Polygon((-42.5887569078, 3.549031044), (-42.6380714504, 3.4847630808), (-41.3641186918, 1.824515522), (-41.2380714504, 1.824515522), (-42.5613387516, 3.549031044), align=None)
        Polygon((-43.9613387516, 1.724515522), (-43.9750478297, 1.7423815404), (-43.9887569078, 1.724515522), align=None)
        Polygon((-43.9887569078, 1.724515522), (-44.0380714504, 1.6602475588), (-42.8408513906, 0.1), (-42.7148041492, 0.1), (-43.9613387516, 1.724515522), align=None)
        Polygon((-39.9148041492, 0.1), (-41.1613387516, 1.724515522), (-41.2380714504, 1.724515522), (-41.287385993, 1.724515522), (-40.0408513906, 0.1), align=None)
        Polygon((-31.5054731734, 0.0878396355), (-31.5148041492, 0.1), (-31.6408513906, 0.1), (-31.5684967941, 0.0057056539), align=None)
        Polygon((-31.4961421975, 0.1), (-31.5148041492, 0.1), (-31.5054731734, 0.0878396355), align=None)
    extrude(amount=-F5_DEPTH, mode=Mode.SUBTRACT)


solid = f1.part
